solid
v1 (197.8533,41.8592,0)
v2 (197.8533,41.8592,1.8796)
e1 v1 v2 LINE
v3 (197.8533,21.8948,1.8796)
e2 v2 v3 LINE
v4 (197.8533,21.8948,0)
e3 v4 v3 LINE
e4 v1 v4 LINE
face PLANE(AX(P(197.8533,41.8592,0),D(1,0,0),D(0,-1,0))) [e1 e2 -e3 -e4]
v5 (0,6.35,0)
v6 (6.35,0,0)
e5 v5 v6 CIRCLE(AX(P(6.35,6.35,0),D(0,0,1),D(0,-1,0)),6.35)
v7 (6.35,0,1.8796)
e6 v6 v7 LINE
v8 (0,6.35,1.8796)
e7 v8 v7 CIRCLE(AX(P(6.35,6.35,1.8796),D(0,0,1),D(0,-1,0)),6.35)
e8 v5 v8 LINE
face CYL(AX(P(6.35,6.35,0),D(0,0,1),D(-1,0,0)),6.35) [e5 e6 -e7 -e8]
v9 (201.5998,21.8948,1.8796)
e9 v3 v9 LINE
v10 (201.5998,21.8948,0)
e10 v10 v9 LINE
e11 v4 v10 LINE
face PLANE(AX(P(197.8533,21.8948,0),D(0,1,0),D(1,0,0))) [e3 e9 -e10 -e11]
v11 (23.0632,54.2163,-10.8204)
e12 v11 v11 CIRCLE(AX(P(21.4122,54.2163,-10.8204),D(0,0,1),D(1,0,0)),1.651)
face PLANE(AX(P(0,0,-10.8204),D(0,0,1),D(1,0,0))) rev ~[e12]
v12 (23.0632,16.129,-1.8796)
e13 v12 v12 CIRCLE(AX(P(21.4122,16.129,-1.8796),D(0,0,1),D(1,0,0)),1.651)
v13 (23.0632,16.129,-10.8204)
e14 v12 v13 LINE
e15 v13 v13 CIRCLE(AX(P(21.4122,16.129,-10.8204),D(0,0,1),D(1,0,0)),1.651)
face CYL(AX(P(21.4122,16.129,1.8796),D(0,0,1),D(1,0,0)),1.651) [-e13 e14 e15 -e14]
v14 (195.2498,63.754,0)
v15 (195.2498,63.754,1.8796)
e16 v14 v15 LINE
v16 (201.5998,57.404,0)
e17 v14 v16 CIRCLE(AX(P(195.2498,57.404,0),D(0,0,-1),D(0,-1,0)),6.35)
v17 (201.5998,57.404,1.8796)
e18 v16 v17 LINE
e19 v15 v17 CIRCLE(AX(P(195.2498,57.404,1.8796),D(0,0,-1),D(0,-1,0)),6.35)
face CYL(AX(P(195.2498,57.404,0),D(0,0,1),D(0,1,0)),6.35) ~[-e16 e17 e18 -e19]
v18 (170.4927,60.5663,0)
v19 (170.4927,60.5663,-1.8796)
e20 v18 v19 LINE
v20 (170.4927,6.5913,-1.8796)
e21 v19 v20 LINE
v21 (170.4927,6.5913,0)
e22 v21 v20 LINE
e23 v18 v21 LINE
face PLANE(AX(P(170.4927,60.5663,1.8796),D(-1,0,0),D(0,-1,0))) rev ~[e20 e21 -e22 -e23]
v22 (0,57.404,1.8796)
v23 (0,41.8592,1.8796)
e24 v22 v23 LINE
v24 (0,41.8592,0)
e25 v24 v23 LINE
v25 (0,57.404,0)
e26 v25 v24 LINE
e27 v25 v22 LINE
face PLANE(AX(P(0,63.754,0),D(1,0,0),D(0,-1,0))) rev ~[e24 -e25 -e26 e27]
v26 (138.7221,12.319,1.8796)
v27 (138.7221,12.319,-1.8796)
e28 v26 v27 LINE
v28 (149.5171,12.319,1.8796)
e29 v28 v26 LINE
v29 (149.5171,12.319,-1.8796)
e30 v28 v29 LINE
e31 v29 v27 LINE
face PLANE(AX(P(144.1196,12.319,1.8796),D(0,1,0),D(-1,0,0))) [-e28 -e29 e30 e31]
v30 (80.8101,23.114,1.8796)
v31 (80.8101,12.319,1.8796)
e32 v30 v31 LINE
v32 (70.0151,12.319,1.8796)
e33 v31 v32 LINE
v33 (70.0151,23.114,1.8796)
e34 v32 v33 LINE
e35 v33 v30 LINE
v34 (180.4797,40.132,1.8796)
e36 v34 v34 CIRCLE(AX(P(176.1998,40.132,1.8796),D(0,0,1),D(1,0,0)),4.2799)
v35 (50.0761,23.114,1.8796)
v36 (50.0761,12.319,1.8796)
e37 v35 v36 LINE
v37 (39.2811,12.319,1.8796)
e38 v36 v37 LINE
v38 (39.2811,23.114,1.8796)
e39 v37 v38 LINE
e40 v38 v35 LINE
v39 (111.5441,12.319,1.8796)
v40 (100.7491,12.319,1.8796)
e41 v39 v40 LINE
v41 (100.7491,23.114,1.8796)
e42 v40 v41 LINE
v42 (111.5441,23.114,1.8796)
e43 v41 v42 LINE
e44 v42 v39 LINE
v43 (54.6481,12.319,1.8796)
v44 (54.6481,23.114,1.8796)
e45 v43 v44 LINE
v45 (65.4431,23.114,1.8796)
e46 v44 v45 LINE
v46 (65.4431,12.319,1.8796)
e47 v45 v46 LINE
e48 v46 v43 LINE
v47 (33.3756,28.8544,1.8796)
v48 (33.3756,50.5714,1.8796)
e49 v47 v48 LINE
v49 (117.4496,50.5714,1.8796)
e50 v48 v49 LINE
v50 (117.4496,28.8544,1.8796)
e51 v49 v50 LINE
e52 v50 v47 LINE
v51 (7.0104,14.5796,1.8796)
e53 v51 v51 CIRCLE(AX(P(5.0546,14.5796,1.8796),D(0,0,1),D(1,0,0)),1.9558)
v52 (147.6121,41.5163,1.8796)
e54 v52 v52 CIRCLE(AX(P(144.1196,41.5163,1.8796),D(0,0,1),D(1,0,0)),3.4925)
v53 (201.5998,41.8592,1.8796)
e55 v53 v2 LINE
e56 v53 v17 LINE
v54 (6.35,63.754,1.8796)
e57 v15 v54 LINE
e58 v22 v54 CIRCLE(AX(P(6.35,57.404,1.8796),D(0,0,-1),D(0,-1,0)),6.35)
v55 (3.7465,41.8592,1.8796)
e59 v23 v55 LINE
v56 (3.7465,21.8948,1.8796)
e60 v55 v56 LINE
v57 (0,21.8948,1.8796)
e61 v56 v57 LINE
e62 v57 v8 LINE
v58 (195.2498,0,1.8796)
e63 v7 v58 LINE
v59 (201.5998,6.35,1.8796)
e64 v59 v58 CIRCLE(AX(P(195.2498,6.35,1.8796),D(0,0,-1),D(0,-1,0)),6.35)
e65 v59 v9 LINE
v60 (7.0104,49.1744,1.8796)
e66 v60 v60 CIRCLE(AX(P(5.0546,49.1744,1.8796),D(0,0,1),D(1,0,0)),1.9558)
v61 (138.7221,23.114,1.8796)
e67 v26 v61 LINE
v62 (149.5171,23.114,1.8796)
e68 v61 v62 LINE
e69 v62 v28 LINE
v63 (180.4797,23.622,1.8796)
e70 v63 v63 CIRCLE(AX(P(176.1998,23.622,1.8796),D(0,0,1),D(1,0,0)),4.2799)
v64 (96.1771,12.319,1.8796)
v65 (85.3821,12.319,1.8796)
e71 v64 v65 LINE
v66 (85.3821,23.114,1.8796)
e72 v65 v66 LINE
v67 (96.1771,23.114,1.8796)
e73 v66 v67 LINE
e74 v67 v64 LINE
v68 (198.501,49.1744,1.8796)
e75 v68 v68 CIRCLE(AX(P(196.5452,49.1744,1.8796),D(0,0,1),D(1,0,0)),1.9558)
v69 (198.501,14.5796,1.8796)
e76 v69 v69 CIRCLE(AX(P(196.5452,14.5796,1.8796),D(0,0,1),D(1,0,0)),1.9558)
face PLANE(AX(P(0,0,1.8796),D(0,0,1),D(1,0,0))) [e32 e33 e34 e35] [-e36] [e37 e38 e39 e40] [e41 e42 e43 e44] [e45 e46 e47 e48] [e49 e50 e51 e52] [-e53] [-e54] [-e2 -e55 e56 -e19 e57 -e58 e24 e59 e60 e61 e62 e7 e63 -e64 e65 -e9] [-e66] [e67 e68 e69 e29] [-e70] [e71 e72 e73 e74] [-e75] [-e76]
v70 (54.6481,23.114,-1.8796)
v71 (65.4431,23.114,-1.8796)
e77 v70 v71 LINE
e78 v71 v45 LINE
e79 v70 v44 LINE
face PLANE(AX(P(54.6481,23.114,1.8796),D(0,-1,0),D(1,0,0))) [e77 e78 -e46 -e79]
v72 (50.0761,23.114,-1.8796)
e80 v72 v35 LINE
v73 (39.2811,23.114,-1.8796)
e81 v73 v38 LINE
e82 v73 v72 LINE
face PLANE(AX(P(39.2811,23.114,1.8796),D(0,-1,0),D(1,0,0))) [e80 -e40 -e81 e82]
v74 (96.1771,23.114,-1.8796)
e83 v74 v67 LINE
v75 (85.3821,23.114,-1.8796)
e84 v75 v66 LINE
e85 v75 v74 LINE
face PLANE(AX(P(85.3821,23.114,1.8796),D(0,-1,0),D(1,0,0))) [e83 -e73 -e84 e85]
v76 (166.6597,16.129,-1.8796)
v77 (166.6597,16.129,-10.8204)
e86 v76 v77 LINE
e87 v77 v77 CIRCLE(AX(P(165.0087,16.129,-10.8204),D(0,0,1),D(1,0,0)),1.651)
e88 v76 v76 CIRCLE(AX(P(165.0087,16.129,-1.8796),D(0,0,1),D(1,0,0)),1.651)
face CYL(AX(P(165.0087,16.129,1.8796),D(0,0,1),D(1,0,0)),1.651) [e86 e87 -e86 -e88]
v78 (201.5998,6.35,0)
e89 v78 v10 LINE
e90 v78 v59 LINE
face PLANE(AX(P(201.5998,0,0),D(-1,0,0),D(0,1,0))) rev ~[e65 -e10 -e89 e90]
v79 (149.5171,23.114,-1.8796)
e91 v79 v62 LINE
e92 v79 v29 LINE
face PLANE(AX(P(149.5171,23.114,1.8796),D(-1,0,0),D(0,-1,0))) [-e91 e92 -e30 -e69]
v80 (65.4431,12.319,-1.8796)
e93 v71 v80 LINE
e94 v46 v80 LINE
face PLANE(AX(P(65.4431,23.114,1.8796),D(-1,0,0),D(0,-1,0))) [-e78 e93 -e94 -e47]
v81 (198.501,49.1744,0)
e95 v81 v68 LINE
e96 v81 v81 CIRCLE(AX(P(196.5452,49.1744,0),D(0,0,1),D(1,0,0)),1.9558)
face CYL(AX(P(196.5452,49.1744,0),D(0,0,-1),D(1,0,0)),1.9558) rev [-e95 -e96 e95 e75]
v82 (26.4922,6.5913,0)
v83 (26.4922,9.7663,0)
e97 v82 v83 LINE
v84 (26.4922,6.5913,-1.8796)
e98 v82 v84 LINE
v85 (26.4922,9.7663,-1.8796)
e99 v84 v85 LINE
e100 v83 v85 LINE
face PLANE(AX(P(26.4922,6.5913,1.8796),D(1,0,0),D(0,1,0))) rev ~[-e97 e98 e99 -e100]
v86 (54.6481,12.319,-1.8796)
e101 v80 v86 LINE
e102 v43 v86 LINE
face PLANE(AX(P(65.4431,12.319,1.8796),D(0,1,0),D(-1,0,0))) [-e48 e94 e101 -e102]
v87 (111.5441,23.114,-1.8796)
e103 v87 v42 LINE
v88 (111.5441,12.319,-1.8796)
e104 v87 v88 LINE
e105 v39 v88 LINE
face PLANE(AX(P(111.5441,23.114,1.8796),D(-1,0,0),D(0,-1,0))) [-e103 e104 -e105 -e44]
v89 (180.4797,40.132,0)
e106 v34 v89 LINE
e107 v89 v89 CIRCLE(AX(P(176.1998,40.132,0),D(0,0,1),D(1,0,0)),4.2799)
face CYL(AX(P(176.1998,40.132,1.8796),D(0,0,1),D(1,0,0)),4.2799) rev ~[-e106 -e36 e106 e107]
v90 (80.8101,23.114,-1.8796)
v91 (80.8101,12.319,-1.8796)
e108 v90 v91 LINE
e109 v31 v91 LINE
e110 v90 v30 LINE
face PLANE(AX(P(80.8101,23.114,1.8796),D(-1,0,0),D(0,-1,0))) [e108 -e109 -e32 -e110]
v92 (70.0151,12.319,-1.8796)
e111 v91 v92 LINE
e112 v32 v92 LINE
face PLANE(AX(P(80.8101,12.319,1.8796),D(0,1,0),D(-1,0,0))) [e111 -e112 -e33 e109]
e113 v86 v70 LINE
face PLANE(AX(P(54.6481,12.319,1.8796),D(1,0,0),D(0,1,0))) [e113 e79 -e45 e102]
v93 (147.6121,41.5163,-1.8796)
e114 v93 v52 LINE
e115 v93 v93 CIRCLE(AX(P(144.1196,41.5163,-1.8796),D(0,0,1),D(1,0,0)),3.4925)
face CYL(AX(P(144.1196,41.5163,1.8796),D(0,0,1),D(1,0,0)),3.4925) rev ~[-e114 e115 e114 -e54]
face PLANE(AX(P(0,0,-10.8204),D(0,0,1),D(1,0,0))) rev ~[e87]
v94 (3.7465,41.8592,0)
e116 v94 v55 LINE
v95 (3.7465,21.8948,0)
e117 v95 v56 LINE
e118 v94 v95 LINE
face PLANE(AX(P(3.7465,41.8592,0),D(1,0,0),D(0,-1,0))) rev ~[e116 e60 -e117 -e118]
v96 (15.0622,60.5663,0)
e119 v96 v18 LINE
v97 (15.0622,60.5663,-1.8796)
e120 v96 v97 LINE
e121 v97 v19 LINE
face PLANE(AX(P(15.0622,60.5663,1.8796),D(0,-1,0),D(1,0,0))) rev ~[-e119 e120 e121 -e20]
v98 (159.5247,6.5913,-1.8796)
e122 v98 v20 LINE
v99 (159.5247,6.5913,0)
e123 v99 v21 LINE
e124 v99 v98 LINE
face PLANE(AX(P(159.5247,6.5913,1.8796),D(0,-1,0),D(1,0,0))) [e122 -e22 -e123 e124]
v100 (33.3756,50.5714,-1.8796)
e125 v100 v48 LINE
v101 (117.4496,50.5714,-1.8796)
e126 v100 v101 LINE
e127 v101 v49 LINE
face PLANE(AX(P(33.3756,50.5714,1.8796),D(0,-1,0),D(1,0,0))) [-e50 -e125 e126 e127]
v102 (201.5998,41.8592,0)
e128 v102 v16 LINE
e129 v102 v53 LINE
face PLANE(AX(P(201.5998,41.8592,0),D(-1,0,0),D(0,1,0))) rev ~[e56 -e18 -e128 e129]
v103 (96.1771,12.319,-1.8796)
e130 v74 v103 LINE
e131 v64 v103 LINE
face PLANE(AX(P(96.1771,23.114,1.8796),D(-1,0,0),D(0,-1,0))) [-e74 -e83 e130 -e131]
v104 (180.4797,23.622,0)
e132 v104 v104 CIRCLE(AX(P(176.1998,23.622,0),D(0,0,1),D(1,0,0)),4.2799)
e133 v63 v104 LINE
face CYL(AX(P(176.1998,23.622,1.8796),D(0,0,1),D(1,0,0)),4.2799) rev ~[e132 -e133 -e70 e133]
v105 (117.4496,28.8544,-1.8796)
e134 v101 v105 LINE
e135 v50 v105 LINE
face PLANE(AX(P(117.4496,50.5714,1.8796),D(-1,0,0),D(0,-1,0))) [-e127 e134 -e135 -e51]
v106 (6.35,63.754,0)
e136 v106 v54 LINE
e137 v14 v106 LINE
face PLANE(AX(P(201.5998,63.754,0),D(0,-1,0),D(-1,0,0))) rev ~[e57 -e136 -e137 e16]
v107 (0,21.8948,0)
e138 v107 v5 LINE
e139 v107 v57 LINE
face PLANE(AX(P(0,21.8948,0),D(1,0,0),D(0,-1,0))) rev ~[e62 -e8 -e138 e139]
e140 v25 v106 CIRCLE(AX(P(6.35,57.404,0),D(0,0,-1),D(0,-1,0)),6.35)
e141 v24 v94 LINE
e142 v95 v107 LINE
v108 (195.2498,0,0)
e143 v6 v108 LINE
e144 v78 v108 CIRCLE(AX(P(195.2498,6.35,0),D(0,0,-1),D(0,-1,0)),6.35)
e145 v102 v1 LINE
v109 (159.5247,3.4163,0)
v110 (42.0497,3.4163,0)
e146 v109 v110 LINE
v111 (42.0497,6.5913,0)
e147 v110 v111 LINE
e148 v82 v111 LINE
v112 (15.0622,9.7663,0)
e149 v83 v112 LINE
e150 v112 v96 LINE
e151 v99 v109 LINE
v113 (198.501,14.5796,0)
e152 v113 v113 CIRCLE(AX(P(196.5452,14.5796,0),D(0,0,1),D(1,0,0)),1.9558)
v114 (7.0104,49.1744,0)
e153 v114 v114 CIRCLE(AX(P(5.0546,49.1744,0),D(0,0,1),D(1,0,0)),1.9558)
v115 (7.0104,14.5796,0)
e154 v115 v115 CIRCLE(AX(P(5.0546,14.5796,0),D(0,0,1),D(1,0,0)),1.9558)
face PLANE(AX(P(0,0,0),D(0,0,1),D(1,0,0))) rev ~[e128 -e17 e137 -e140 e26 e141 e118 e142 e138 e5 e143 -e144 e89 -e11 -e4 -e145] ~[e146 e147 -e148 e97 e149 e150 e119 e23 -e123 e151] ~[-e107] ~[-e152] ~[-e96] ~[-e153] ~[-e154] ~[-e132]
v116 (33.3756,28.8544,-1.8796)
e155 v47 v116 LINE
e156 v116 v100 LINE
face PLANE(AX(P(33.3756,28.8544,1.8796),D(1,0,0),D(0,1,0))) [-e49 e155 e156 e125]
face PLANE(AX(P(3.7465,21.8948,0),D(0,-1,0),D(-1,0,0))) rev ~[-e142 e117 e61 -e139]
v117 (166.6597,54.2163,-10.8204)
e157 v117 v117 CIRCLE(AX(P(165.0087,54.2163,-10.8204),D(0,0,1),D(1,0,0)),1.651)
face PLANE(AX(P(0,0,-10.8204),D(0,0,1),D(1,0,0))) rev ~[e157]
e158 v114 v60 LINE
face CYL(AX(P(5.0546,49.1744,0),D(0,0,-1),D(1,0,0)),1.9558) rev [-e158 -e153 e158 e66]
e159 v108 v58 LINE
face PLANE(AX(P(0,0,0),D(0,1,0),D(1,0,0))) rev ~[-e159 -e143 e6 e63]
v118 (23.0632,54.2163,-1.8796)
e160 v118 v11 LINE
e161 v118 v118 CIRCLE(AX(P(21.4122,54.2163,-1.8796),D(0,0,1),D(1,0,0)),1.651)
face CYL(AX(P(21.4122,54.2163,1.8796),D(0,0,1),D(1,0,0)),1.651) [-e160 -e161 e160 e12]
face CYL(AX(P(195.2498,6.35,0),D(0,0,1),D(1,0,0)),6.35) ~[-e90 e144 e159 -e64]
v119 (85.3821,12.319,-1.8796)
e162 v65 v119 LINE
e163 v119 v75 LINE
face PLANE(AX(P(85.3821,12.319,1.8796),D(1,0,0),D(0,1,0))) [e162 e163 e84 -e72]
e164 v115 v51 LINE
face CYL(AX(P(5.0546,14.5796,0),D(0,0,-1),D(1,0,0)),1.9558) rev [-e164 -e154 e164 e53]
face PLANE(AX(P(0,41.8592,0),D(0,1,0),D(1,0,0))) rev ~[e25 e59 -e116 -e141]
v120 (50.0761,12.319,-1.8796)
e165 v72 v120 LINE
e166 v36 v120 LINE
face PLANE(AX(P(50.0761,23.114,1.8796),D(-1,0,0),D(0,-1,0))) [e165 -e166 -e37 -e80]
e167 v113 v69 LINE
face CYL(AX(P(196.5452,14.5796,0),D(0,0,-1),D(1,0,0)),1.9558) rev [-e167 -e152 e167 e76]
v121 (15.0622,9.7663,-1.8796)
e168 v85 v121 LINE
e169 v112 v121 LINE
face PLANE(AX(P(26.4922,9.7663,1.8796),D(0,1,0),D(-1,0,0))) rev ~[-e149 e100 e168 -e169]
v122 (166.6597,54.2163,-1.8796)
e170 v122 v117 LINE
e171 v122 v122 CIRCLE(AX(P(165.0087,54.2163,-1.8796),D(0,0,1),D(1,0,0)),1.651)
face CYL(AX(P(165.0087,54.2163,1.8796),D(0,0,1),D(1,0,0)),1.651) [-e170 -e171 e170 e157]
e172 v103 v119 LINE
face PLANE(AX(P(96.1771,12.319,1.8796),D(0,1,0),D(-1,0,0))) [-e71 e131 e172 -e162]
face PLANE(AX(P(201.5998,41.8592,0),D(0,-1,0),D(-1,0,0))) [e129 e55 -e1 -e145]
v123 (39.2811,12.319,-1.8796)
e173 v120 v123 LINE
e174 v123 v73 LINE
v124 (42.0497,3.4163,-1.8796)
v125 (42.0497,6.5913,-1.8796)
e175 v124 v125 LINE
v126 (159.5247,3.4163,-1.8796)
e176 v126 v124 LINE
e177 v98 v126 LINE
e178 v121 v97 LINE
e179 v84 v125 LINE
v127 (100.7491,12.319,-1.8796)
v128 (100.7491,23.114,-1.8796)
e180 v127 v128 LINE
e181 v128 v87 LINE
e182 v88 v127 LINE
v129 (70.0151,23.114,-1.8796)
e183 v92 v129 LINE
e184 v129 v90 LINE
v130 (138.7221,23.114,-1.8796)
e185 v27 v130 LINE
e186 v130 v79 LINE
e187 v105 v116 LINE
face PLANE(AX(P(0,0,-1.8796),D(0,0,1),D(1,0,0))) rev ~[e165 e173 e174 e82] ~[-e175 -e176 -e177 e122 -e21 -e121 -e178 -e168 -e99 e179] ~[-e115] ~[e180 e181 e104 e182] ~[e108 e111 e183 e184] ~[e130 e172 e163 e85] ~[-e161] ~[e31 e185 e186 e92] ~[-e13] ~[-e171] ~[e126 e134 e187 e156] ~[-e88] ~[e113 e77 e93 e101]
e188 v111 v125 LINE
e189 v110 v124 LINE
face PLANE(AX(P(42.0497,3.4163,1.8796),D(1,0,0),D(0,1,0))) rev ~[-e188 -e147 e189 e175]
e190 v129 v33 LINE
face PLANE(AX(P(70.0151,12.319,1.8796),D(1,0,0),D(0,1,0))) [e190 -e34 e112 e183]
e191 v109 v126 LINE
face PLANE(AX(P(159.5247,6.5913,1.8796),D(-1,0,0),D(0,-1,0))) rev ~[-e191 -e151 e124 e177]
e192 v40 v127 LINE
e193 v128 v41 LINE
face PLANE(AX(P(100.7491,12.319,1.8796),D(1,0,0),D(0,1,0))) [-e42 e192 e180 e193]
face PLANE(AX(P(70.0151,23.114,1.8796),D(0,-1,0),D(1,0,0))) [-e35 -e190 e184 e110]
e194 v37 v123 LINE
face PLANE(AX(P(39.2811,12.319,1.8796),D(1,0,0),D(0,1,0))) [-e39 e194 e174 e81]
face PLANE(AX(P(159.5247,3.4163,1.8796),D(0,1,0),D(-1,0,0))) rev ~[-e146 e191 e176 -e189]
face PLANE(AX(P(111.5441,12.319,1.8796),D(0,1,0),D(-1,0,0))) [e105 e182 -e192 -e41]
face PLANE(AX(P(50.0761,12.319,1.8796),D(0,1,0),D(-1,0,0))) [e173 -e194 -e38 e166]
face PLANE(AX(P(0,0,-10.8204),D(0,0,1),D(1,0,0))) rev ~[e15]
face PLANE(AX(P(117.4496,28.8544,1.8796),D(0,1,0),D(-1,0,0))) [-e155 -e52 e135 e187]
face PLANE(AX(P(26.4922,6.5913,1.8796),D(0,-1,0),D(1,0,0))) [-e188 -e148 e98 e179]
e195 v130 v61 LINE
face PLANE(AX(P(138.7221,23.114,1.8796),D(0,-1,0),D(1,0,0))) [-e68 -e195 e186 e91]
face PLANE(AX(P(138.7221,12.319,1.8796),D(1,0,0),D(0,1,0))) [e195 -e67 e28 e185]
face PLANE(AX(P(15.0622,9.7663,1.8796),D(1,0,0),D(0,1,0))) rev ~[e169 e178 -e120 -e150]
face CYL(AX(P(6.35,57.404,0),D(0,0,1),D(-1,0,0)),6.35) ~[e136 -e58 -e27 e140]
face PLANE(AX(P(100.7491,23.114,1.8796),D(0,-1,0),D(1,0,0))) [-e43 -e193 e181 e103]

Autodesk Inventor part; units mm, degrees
ref_plane "YZ Plane" through (0, 0, 0) normal (1, 0, 0) x (0, 1, 0)
ref_plane "XZ Plane" through (0, 0, 0) normal (0, 1, 0) x (-1, 0, 0)
ref_plane "XY Plane" through (0, 0, 0) normal (0, 0, 1) x (1, 0, 0)
sketch "Sketch1" plane through (0, 0, 0) normal (0, 0, 1) x (1, 0, 0)
  line L0 (0, 0) -> (201.5998, 0)
  line L1 (201.5998, 0) -> (201.5998, 63.754)
  line L2 (201.5998, 63.754) -> (0, 63.754)
  line L3 (0, 63.754) -> (0, 0)
  line L4 (0, 41.8592) -> (3.7465, 41.8592)
  line L5 (3.7465, 41.8592) -> (3.7465, 21.8948)
  line L6 (3.7465, 21.8948) -> (0, 21.8948)
  line L7 (0, 21.8948) -> (0, 41.8592)
  line L8 (201.5998, 41.8592) -> (197.8533, 41.8592)
  line L9 (197.8533, 41.8592) -> (197.8533, 21.8948)
  line L10 (197.8533, 21.8948) -> (201.5998, 21.8948)
  line L11 (201.5998, 21.8948) -> (201.5998, 41.8592)
  circle A0 centre (5.0546, 49.1744) radius 1.9558
  circle A1 centre (5.0546, 14.5796) radius 1.9558
  circle A2 centre (196.5452, 14.5796) radius 1.9558
  circle A3 centre (196.5452, 49.1744) radius 1.9558
  dimension "d0" = 201.5998
  dimension "d1" = 63.754
  dimension "d2" = 3.7465
  dimension "d3" = 19.9644
  dimension "d4" = 21.8948
  dimension "d5" = 3.7465
  dimension "d6" = 3.9116
  dimension "d7" = 12.6238
  dimension "d8" = 3.0988
  dimension "d9" = 3.9116
  dimension "d10" = 12.6238
  dimension "d11" = 3.0988
  dimension "d12" = 3.9116
  dimension "d13" = 3.0988
extrude "Extrusion1" add sketch "Sketch1" along normal blind 1.8796 contours L3 L6 L5 L4 L2 L1 L8 L9 L10 L0
fillet "Fillet1" radius 6.35 4 edges at (201.5998, 63.754, 0.9398) (201.5998, 0, 0.9398) (0, 63.754, 0.9398) (0, 0, 0.9398)
sketch "Sketch2" plane through (0, 0, 1.8796) normal (0, 0, 1) x (1, 0, 0)
  arc A0 (0, 6.35) -> (6.35, 0) centre (6.35, 6.35) ccw projected
  line L0 (6.35, 0) -> (195.2498, 0) projected
  arc A1 (195.2498, 0) -> (201.5998, 6.35) centre (195.2498, 6.35) ccw projected
  line L1 (201.5998, 6.35) -> (201.5998, 21.8948) projected
  line L2 (201.5998, 21.8948) -> (197.8533, 21.8948) projected
  line L3 (197.8533, 21.8948) -> (197.8533, 41.8592) projected
  line L4 (197.8533, 41.8592) -> (201.5998, 41.8592) projected
  line L5 (201.5998, 41.8592) -> (201.5998, 57.404) projected
  arc A2 (201.5998, 57.404) -> (195.2498, 63.754) centre (195.2498, 57.404) ccw projected
  line L6 (195.2498, 63.754) -> (6.35, 63.754) projected
  arc A3 (6.35, 63.754) -> (0, 57.404) centre (6.35, 57.404) ccw projected
  line L7 (0, 57.404) -> (0, 41.8592) projected
  line L8 (0, 41.8592) -> (3.7465, 41.8592) projected
  line L9 (3.7465, 41.8592) -> (3.7465, 21.8948) projected
  line L10 (3.7465, 21.8948) -> (0, 21.8948) projected
  line L11 (0, 21.8948) -> (0, 6.35) projected
  circle A4 centre (196.5452, 49.1744) radius 1.9558 projected
  circle A5 centre (196.5452, 14.5796) radius 1.9558 projected
  circle A6 centre (5.0546, 14.5796) radius 1.9558 projected
  circle A7 centre (5.0546, 49.1744) radius 1.9558 projected
  line L12 (15.0622, 60.5663) -> (170.4927, 60.5663)
  line L13 (170.4927, 60.5663) -> (170.4927, 9.7663)
  line L14 (15.0622, 9.7663) -> (15.0622, 60.5663)
  line L15 (170.4927, 9.7663) -> (170.4927, 6.5913)
  line L16 (26.4922, 6.5913) -> (26.4922, 9.7663)
  line L17 (159.5247, 6.5913) -> (159.5247, 3.4163)
  line L18 (159.5247, 3.4163) -> (42.0497, 3.4163)
  line L19 (42.0497, 3.4163) -> (42.0497, 6.5913)
  circle A8 centre (21.4122, 54.2163) radius 1.651
  circle A9 centre (21.4122, 16.129) radius 1.651
  circle A10 centre (165.0087, 16.129) radius 1.651
  circle A11 centre (165.0087, 54.2163) radius 1.651
  line L20 (33.3756, 50.5714) -> (117.4496, 50.5714)
  line L21 (117.4496, 50.5714) -> (117.4496, 28.8544)
  line L22 (117.4496, 28.8544) -> (33.3756, 28.8544)
  line L23 (33.3756, 28.8544) -> (33.3756, 50.5714)
  line L24 (39.2811, 23.114) -> (50.0761, 23.114)
  line L25 (50.0761, 23.114) -> (50.0761, 12.319)
  line L26 (50.0761, 12.319) -> (39.2811, 12.319)
  line L27 (39.2811, 12.319) -> (39.2811, 23.114)
  line L28 (54.6481, 23.114) -> (65.4431, 23.114)
  line L29 (65.4431, 23.114) -> (65.4431, 12.319)
  line L30 (65.4431, 12.319) -> (54.6481, 12.319)
  line L31 (54.6481, 12.319) -> (54.6481, 23.114)
  line L32 (70.0151, 23.114) -> (80.8101, 23.114)
  line L33 (80.8101, 23.114) -> (80.8101, 12.319)
  line L34 (80.8101, 12.319) -> (70.0151, 12.319)
  line L35 (70.0151, 12.319) -> (70.0151, 23.114)
  line L36 (85.3821, 23.114) -> (96.1771, 23.114)
  line L37 (96.1771, 23.114) -> (96.1771, 12.319)
  line L38 (96.1771, 12.319) -> (85.3821, 12.319)
  line L39 (85.3821, 12.319) -> (85.3821, 23.114)
  line L40 (100.7491, 23.114) -> (111.5441, 23.114)
  line L41 (111.5441, 23.114) -> (111.5441, 12.319)
  line L42 (111.5441, 12.319) -> (100.7491, 12.319)
  line L43 (100.7491, 12.319) -> (100.7491, 23.114)
  line L44 (138.7221, 23.114) -> (149.5171, 23.114)
  line L45 (149.5171, 23.114) -> (149.5171, 12.319)
  line L46 (149.5171, 12.319) -> (138.7221, 12.319)
  line L47 (138.7221, 12.319) -> (138.7221, 23.114)
  line L48 (170.4927, 9.7663) -> (170.4927, 9.7663)
  line L49 (26.4922, 9.7663) -> (15.0622, 9.7663)
  line L50 (26.4922, 6.5913) -> (42.0497, 6.5913)
  line L51 (159.5247, 6.5913) -> (170.4927, 6.5913)
  circle A12 centre (176.1998, 40.132) radius 4.2799
  circle A13 centre (176.1998, 23.622) radius 4.2799
  circle A14 centre (144.1196, 41.5163) radius 3.4925
  line L52 (144.1196, 23.114) -> (144.1196, 12.319)
  point P0 (0, 0)
  dimension "d30" = 3.302
  dimension "d31" = 6.35
  dimension "d32" = 6.35
  dimension "d42" = 84.074
  dimension "d43" = 21.717
  dimension "d72" = 10.795
  dimension "d73" = 10.795
  dimension "d74" = 10.795
  dimension "d75" = 10.795
  dimension "d76" = 10.795
  dimension "d77" = 10.795
  dimension "d78" = 10.795
  dimension "d79" = 4.572
  dimension "d80" = 4.572
  dimension "d81" = 4.572
  dimension "d82" = 4.572
  dimension "d83" = 5.9055
  dimension "d84" = 5.9055
  dimension "d85" = 12.319
  dimension "d86" = 8.5598
  dimension "d87" = 8.5598
  dimension "d90" = 6.985
  dimension "d91" = 26.67
  dimension "d99" = 25.4
  dimension "d100" = 25.4
  dimension "d101" = 0
  dimension "d102" = 3.302
  dimension "d103" = 3.302
  dimension "d104" = 3.302
  dimension "d106" = 16.51
  dimension "d108" = 23.622
  dimension "d109" = 23.622
  dimension "d112" = 50.8
  dimension "d113" = 155.4305
  dimension "d114" = 6.35
extrude "Extrusion2" cut sketch "Sketch2" against normal blind 1.8796 contours A8 | A9 | A10 | A11 | L20 L21 L22 L23 | L24 L25 L26 L27 | L28 L29 L30 L31 | L32 L33 L34 L35 | L36 L37 L38 L39 | L40 L41 L42 L43 | L44 L52 L46 L47 | L44 L45 L46 L52 | A12 | A13 | A14
extrude "Extrusion3" add sketch "Sketch2" against normal blind 3.7592 contours L12 L13 L15 L51 L17 L18 L19 L50 L16 L49 L14
sketch "Sketch3" plane through (0, 0, 1.8796) normal (0, 0, 1) x (1, 0, 0)
  line L0 (138.7221, 12.319) -> (138.7221, 23.114) projected
  line L1 (138.7221, 23.114) -> (149.5171, 23.114) projected
  line L2 (149.5171, 23.114) -> (149.5171, 12.319) projected
  line L3 (149.5171, 12.319) -> (138.7221, 12.319) projected
  line L4 (85.3821, 12.319) -> (85.3821, 23.114) projected
  line L5 (85.3821, 23.114) -> (96.1771, 23.114) projected
  line L6 (96.1771, 23.114) -> (96.1771, 12.319) projected
  line L7 (96.1771, 12.319) -> (85.3821, 12.319) projected
  line L8 (54.6481, 12.319) -> (54.6481, 23.114) projected
  line L9 (54.6481, 23.114) -> (65.4431, 23.114) projected
  line L10 (65.4431, 23.114) -> (65.4431, 12.319) projected
  line L11 (65.4431, 12.319) -> (54.6481, 12.319) projected
  circle A0 centre (144.1196, 41.5163) radius 3.4925 projected
  circle A1 centre (165.0087, 16.129) radius 1.651 projected
  circle A2 centre (21.4122, 54.2163) radius 1.651 projected
  circle A3 centre (21.4122, 16.129) radius 1.651 projected
  circle A4 centre (165.0087, 54.2163) radius 1.651 projected
  line L12 (39.2811, 12.319) -> (39.2811, 23.114) projected
  line L13 (39.2811, 23.114) -> (50.0761, 23.114) projected
  line L14 (50.0761, 23.114) -> (50.0761, 12.319) projected
  line L15 (50.0761, 12.319) -> (39.2811, 12.319) projected
  line L16 (70.0151, 12.319) -> (70.0151, 23.114) projected
  line L17 (70.0151, 23.114) -> (80.8101, 23.114) projected
  line L18 (80.8101, 23.114) -> (80.8101, 12.319) projected
  line L19 (80.8101, 12.319) -> (70.0151, 12.319) projected
  line L20 (100.7491, 12.319) -> (100.7491, 23.114) projected
  line L21 (100.7491, 23.114) -> (111.5441, 23.114) projected
  line L22 (111.5441, 23.114) -> (111.5441, 12.319) projected
  line L23 (111.5441, 12.319) -> (100.7491, 12.319) projected
  line L24 (33.3756, 28.8544) -> (33.3756, 50.5714) projected
  line L25 (33.3756, 50.5714) -> (117.4496, 50.5714) projected
  line L26 (117.4496, 50.5714) -> (117.4496, 28.8544) projected
  line L27 (117.4496, 28.8544) -> (33.3756, 28.8544) projected
  circle A5 centre (176.1998, 23.622) radius 4.2799 projected
  circle A6 centre (176.1998, 40.132) radius 4.2799 projected
  arc A7 (0, 6.35) -> (6.35, 0) centre (6.35, 6.35) ccw projected
  line L28 (6.35, 0) -> (195.2498, 0) projected
  arc A8 (195.2498, 0) -> (201.5998, 6.35) centre (195.2498, 6.35) ccw projected
  line L29 (201.5998, 6.35) -> (201.5998, 21.8948) projected
  line L30 (201.5998, 21.8948) -> (197.8533, 21.8948) projected
  line L31 (197.8533, 21.8948) -> (197.8533, 41.8592) projected
  line L32 (197.8533, 41.8592) -> (201.5998, 41.8592) projected
  line L33 (201.5998, 41.8592) -> (201.5998, 57.404) projected
  arc A9 (201.5998, 57.404) -> (195.2498, 63.754) centre (195.2498, 57.404) ccw projected
  line L34 (195.2498, 63.754) -> (6.35, 63.754) projected
  arc A10 (6.35, 63.754) -> (0, 57.404) centre (6.35, 57.404) ccw projected
  line L35 (0, 57.404) -> (0, 41.8592) projected
  line L36 (0, 41.8592) -> (3.7465, 41.8592) projected
  line L37 (3.7465, 41.8592) -> (3.7465, 21.8948) projected
  line L38 (3.7465, 21.8948) -> (0, 21.8948) projected
  line L39 (0, 21.8948) -> (0, 6.35) projected
  circle A11 centre (196.5452, 49.1744) radius 1.9558 projected
  circle A12 centre (196.5452, 14.5796) radius 1.9558 projected
  circle A13 centre (5.0546, 14.5796) radius 1.9558 projected
  circle A14 centre (5.0546, 49.1744) radius 1.9558 projected
  circle A15 centre (21.4122, 54.2163) radius 1.651 projected
  line L40 (15.0622, 60.5663) -> (170.4927, 60.5663) projected
  line L41 (138.7221, 12.319) -> (138.7221, 23.114) projected
  line L42 (138.7221, 23.114) -> (149.5171, 23.114) projected
  line L43 (149.5171, 23.114) -> (149.5171, 12.319) projected
  line L44 (149.5171, 12.319) -> (138.7221, 12.319) projected
  line L45 (85.3821, 12.319) -> (85.3821, 23.114) projected
  line L46 (85.3821, 23.114) -> (96.1771, 23.114) projected
  line L47 (96.1771, 23.114) -> (96.1771, 12.319) projected
  line L48 (96.1771, 12.319) -> (85.3821, 12.319) projected
  line L49 (54.6481, 12.319) -> (54.6481, 23.114) projected
  line L50 (54.6481, 23.114) -> (65.4431, 23.114) projected
  line L51 (65.4431, 23.114) -> (65.4431, 12.319) projected
  line L52 (65.4431, 12.319) -> (54.6481, 12.319) projected
  circle A16 centre (144.1196, 41.5163) radius 3.4925 projected
  circle A17 centre (165.0087, 16.129) radius 1.651 projected
  circle A18 centre (21.4122, 54.2163) radius 1.651 projected
  circle A19 centre (21.4122, 16.129) radius 1.651 projected
  circle A20 centre (165.0087, 54.2163) radius 1.651 projected
  line L53 (39.2811, 12.319) -> (39.2811, 23.114) projected
  line L54 (39.2811, 23.114) -> (50.0761, 23.114) projected
  line L55 (50.0761, 23.114) -> (50.0761, 12.319) projected
  line L56 (50.0761, 12.319) -> (39.2811, 12.319) projected
  line L57 (70.0151, 12.319) -> (70.0151, 23.114) projected
  line L58 (70.0151, 23.114) -> (80.8101, 23.114) projected
  line L59 (80.8101, 23.114) -> (80.8101, 12.319) projected
  line L60 (80.8101, 12.319) -> (70.0151, 12.319) projected
  line L61 (100.7491, 12.319) -> (100.7491, 23.114) projected
  line L62 (100.7491, 23.114) -> (111.5441, 23.114) projected
  line L63 (111.5441, 23.114) -> (111.5441, 12.319) projected
  line L64 (111.5441, 12.319) -> (100.7491, 12.319) projected
  line L65 (33.3756, 28.8544) -> (33.3756, 50.5714) projected
  line L66 (33.3756, 50.5714) -> (117.4496, 50.5714) projected
  line L67 (117.4496, 50.5714) -> (117.4496, 28.8544) projected
  line L68 (117.4496, 28.8544) -> (33.3756, 28.8544) projected
  circle A21 centre (176.1998, 23.622) radius 4.2799 projected
  circle A22 centre (176.1998, 40.132) radius 4.2799 projected
  arc A23 (0, 6.35) -> (6.35, 0) centre (6.35, 6.35) ccw projected
  line L69 (6.35, 0) -> (195.2498, 0) projected
  arc A24 (195.2498, 0) -> (201.5998, 6.35) centre (195.2498, 6.35) ccw projected
  line L70 (201.5998, 6.35) -> (201.5998, 21.8948) projected
  line L71 (201.5998, 21.8948) -> (197.8533, 21.8948) projected
  line L72 (197.8533, 21.8948) -> (197.8533, 41.8592) projected
  line L73 (197.8533, 41.8592) -> (201.5998, 41.8592) projected
  line L74 (201.5998, 41.8592) -> (201.5998, 57.404) projected
  arc A25 (201.5998, 57.404) -> (195.2498, 63.754) centre (195.2498, 57.404) ccw projected
  line L75 (195.2498, 63.754) -> (6.35, 63.754) projected
  arc A26 (6.35, 63.754) -> (0, 57.404) centre (6.35, 57.404) ccw projected
  line L76 (0, 57.404) -> (0, 41.8592) projected
  line L77 (0, 41.8592) -> (3.7465, 41.8592) projected
  line L78 (3.7465, 41.8592) -> (3.7465, 21.8948) projected
  line L79 (3.7465, 21.8948) -> (0, 21.8948) projected
  line L80 (0, 21.8948) -> (0, 6.35) projected
  circle A27 centre (196.5452, 49.1744) radius 1.9558 projected
  circle A28 centre (196.5452, 14.5796) radius 1.9558 projected
  circle A29 centre (5.0546, 14.5796) radius 1.9558 projected
  circle A30 centre (5.0546, 49.1744) radius 1.9558 projected
  circle A31 centre (21.4122, 54.2163) radius 1.651
  circle A32 centre (21.4122, 16.129) radius 1.651
  circle A33 centre (165.0087, 16.129) radius 1.651
  circle A34 centre (165.0087, 54.2163) radius 1.651
  point P0 (0, 0)
extrude "Extrusion4" add sketch "Sketch3" against normal blind 12.7 contours A1 | A2 | A3 | A4
properties part number "Front Pannel"
